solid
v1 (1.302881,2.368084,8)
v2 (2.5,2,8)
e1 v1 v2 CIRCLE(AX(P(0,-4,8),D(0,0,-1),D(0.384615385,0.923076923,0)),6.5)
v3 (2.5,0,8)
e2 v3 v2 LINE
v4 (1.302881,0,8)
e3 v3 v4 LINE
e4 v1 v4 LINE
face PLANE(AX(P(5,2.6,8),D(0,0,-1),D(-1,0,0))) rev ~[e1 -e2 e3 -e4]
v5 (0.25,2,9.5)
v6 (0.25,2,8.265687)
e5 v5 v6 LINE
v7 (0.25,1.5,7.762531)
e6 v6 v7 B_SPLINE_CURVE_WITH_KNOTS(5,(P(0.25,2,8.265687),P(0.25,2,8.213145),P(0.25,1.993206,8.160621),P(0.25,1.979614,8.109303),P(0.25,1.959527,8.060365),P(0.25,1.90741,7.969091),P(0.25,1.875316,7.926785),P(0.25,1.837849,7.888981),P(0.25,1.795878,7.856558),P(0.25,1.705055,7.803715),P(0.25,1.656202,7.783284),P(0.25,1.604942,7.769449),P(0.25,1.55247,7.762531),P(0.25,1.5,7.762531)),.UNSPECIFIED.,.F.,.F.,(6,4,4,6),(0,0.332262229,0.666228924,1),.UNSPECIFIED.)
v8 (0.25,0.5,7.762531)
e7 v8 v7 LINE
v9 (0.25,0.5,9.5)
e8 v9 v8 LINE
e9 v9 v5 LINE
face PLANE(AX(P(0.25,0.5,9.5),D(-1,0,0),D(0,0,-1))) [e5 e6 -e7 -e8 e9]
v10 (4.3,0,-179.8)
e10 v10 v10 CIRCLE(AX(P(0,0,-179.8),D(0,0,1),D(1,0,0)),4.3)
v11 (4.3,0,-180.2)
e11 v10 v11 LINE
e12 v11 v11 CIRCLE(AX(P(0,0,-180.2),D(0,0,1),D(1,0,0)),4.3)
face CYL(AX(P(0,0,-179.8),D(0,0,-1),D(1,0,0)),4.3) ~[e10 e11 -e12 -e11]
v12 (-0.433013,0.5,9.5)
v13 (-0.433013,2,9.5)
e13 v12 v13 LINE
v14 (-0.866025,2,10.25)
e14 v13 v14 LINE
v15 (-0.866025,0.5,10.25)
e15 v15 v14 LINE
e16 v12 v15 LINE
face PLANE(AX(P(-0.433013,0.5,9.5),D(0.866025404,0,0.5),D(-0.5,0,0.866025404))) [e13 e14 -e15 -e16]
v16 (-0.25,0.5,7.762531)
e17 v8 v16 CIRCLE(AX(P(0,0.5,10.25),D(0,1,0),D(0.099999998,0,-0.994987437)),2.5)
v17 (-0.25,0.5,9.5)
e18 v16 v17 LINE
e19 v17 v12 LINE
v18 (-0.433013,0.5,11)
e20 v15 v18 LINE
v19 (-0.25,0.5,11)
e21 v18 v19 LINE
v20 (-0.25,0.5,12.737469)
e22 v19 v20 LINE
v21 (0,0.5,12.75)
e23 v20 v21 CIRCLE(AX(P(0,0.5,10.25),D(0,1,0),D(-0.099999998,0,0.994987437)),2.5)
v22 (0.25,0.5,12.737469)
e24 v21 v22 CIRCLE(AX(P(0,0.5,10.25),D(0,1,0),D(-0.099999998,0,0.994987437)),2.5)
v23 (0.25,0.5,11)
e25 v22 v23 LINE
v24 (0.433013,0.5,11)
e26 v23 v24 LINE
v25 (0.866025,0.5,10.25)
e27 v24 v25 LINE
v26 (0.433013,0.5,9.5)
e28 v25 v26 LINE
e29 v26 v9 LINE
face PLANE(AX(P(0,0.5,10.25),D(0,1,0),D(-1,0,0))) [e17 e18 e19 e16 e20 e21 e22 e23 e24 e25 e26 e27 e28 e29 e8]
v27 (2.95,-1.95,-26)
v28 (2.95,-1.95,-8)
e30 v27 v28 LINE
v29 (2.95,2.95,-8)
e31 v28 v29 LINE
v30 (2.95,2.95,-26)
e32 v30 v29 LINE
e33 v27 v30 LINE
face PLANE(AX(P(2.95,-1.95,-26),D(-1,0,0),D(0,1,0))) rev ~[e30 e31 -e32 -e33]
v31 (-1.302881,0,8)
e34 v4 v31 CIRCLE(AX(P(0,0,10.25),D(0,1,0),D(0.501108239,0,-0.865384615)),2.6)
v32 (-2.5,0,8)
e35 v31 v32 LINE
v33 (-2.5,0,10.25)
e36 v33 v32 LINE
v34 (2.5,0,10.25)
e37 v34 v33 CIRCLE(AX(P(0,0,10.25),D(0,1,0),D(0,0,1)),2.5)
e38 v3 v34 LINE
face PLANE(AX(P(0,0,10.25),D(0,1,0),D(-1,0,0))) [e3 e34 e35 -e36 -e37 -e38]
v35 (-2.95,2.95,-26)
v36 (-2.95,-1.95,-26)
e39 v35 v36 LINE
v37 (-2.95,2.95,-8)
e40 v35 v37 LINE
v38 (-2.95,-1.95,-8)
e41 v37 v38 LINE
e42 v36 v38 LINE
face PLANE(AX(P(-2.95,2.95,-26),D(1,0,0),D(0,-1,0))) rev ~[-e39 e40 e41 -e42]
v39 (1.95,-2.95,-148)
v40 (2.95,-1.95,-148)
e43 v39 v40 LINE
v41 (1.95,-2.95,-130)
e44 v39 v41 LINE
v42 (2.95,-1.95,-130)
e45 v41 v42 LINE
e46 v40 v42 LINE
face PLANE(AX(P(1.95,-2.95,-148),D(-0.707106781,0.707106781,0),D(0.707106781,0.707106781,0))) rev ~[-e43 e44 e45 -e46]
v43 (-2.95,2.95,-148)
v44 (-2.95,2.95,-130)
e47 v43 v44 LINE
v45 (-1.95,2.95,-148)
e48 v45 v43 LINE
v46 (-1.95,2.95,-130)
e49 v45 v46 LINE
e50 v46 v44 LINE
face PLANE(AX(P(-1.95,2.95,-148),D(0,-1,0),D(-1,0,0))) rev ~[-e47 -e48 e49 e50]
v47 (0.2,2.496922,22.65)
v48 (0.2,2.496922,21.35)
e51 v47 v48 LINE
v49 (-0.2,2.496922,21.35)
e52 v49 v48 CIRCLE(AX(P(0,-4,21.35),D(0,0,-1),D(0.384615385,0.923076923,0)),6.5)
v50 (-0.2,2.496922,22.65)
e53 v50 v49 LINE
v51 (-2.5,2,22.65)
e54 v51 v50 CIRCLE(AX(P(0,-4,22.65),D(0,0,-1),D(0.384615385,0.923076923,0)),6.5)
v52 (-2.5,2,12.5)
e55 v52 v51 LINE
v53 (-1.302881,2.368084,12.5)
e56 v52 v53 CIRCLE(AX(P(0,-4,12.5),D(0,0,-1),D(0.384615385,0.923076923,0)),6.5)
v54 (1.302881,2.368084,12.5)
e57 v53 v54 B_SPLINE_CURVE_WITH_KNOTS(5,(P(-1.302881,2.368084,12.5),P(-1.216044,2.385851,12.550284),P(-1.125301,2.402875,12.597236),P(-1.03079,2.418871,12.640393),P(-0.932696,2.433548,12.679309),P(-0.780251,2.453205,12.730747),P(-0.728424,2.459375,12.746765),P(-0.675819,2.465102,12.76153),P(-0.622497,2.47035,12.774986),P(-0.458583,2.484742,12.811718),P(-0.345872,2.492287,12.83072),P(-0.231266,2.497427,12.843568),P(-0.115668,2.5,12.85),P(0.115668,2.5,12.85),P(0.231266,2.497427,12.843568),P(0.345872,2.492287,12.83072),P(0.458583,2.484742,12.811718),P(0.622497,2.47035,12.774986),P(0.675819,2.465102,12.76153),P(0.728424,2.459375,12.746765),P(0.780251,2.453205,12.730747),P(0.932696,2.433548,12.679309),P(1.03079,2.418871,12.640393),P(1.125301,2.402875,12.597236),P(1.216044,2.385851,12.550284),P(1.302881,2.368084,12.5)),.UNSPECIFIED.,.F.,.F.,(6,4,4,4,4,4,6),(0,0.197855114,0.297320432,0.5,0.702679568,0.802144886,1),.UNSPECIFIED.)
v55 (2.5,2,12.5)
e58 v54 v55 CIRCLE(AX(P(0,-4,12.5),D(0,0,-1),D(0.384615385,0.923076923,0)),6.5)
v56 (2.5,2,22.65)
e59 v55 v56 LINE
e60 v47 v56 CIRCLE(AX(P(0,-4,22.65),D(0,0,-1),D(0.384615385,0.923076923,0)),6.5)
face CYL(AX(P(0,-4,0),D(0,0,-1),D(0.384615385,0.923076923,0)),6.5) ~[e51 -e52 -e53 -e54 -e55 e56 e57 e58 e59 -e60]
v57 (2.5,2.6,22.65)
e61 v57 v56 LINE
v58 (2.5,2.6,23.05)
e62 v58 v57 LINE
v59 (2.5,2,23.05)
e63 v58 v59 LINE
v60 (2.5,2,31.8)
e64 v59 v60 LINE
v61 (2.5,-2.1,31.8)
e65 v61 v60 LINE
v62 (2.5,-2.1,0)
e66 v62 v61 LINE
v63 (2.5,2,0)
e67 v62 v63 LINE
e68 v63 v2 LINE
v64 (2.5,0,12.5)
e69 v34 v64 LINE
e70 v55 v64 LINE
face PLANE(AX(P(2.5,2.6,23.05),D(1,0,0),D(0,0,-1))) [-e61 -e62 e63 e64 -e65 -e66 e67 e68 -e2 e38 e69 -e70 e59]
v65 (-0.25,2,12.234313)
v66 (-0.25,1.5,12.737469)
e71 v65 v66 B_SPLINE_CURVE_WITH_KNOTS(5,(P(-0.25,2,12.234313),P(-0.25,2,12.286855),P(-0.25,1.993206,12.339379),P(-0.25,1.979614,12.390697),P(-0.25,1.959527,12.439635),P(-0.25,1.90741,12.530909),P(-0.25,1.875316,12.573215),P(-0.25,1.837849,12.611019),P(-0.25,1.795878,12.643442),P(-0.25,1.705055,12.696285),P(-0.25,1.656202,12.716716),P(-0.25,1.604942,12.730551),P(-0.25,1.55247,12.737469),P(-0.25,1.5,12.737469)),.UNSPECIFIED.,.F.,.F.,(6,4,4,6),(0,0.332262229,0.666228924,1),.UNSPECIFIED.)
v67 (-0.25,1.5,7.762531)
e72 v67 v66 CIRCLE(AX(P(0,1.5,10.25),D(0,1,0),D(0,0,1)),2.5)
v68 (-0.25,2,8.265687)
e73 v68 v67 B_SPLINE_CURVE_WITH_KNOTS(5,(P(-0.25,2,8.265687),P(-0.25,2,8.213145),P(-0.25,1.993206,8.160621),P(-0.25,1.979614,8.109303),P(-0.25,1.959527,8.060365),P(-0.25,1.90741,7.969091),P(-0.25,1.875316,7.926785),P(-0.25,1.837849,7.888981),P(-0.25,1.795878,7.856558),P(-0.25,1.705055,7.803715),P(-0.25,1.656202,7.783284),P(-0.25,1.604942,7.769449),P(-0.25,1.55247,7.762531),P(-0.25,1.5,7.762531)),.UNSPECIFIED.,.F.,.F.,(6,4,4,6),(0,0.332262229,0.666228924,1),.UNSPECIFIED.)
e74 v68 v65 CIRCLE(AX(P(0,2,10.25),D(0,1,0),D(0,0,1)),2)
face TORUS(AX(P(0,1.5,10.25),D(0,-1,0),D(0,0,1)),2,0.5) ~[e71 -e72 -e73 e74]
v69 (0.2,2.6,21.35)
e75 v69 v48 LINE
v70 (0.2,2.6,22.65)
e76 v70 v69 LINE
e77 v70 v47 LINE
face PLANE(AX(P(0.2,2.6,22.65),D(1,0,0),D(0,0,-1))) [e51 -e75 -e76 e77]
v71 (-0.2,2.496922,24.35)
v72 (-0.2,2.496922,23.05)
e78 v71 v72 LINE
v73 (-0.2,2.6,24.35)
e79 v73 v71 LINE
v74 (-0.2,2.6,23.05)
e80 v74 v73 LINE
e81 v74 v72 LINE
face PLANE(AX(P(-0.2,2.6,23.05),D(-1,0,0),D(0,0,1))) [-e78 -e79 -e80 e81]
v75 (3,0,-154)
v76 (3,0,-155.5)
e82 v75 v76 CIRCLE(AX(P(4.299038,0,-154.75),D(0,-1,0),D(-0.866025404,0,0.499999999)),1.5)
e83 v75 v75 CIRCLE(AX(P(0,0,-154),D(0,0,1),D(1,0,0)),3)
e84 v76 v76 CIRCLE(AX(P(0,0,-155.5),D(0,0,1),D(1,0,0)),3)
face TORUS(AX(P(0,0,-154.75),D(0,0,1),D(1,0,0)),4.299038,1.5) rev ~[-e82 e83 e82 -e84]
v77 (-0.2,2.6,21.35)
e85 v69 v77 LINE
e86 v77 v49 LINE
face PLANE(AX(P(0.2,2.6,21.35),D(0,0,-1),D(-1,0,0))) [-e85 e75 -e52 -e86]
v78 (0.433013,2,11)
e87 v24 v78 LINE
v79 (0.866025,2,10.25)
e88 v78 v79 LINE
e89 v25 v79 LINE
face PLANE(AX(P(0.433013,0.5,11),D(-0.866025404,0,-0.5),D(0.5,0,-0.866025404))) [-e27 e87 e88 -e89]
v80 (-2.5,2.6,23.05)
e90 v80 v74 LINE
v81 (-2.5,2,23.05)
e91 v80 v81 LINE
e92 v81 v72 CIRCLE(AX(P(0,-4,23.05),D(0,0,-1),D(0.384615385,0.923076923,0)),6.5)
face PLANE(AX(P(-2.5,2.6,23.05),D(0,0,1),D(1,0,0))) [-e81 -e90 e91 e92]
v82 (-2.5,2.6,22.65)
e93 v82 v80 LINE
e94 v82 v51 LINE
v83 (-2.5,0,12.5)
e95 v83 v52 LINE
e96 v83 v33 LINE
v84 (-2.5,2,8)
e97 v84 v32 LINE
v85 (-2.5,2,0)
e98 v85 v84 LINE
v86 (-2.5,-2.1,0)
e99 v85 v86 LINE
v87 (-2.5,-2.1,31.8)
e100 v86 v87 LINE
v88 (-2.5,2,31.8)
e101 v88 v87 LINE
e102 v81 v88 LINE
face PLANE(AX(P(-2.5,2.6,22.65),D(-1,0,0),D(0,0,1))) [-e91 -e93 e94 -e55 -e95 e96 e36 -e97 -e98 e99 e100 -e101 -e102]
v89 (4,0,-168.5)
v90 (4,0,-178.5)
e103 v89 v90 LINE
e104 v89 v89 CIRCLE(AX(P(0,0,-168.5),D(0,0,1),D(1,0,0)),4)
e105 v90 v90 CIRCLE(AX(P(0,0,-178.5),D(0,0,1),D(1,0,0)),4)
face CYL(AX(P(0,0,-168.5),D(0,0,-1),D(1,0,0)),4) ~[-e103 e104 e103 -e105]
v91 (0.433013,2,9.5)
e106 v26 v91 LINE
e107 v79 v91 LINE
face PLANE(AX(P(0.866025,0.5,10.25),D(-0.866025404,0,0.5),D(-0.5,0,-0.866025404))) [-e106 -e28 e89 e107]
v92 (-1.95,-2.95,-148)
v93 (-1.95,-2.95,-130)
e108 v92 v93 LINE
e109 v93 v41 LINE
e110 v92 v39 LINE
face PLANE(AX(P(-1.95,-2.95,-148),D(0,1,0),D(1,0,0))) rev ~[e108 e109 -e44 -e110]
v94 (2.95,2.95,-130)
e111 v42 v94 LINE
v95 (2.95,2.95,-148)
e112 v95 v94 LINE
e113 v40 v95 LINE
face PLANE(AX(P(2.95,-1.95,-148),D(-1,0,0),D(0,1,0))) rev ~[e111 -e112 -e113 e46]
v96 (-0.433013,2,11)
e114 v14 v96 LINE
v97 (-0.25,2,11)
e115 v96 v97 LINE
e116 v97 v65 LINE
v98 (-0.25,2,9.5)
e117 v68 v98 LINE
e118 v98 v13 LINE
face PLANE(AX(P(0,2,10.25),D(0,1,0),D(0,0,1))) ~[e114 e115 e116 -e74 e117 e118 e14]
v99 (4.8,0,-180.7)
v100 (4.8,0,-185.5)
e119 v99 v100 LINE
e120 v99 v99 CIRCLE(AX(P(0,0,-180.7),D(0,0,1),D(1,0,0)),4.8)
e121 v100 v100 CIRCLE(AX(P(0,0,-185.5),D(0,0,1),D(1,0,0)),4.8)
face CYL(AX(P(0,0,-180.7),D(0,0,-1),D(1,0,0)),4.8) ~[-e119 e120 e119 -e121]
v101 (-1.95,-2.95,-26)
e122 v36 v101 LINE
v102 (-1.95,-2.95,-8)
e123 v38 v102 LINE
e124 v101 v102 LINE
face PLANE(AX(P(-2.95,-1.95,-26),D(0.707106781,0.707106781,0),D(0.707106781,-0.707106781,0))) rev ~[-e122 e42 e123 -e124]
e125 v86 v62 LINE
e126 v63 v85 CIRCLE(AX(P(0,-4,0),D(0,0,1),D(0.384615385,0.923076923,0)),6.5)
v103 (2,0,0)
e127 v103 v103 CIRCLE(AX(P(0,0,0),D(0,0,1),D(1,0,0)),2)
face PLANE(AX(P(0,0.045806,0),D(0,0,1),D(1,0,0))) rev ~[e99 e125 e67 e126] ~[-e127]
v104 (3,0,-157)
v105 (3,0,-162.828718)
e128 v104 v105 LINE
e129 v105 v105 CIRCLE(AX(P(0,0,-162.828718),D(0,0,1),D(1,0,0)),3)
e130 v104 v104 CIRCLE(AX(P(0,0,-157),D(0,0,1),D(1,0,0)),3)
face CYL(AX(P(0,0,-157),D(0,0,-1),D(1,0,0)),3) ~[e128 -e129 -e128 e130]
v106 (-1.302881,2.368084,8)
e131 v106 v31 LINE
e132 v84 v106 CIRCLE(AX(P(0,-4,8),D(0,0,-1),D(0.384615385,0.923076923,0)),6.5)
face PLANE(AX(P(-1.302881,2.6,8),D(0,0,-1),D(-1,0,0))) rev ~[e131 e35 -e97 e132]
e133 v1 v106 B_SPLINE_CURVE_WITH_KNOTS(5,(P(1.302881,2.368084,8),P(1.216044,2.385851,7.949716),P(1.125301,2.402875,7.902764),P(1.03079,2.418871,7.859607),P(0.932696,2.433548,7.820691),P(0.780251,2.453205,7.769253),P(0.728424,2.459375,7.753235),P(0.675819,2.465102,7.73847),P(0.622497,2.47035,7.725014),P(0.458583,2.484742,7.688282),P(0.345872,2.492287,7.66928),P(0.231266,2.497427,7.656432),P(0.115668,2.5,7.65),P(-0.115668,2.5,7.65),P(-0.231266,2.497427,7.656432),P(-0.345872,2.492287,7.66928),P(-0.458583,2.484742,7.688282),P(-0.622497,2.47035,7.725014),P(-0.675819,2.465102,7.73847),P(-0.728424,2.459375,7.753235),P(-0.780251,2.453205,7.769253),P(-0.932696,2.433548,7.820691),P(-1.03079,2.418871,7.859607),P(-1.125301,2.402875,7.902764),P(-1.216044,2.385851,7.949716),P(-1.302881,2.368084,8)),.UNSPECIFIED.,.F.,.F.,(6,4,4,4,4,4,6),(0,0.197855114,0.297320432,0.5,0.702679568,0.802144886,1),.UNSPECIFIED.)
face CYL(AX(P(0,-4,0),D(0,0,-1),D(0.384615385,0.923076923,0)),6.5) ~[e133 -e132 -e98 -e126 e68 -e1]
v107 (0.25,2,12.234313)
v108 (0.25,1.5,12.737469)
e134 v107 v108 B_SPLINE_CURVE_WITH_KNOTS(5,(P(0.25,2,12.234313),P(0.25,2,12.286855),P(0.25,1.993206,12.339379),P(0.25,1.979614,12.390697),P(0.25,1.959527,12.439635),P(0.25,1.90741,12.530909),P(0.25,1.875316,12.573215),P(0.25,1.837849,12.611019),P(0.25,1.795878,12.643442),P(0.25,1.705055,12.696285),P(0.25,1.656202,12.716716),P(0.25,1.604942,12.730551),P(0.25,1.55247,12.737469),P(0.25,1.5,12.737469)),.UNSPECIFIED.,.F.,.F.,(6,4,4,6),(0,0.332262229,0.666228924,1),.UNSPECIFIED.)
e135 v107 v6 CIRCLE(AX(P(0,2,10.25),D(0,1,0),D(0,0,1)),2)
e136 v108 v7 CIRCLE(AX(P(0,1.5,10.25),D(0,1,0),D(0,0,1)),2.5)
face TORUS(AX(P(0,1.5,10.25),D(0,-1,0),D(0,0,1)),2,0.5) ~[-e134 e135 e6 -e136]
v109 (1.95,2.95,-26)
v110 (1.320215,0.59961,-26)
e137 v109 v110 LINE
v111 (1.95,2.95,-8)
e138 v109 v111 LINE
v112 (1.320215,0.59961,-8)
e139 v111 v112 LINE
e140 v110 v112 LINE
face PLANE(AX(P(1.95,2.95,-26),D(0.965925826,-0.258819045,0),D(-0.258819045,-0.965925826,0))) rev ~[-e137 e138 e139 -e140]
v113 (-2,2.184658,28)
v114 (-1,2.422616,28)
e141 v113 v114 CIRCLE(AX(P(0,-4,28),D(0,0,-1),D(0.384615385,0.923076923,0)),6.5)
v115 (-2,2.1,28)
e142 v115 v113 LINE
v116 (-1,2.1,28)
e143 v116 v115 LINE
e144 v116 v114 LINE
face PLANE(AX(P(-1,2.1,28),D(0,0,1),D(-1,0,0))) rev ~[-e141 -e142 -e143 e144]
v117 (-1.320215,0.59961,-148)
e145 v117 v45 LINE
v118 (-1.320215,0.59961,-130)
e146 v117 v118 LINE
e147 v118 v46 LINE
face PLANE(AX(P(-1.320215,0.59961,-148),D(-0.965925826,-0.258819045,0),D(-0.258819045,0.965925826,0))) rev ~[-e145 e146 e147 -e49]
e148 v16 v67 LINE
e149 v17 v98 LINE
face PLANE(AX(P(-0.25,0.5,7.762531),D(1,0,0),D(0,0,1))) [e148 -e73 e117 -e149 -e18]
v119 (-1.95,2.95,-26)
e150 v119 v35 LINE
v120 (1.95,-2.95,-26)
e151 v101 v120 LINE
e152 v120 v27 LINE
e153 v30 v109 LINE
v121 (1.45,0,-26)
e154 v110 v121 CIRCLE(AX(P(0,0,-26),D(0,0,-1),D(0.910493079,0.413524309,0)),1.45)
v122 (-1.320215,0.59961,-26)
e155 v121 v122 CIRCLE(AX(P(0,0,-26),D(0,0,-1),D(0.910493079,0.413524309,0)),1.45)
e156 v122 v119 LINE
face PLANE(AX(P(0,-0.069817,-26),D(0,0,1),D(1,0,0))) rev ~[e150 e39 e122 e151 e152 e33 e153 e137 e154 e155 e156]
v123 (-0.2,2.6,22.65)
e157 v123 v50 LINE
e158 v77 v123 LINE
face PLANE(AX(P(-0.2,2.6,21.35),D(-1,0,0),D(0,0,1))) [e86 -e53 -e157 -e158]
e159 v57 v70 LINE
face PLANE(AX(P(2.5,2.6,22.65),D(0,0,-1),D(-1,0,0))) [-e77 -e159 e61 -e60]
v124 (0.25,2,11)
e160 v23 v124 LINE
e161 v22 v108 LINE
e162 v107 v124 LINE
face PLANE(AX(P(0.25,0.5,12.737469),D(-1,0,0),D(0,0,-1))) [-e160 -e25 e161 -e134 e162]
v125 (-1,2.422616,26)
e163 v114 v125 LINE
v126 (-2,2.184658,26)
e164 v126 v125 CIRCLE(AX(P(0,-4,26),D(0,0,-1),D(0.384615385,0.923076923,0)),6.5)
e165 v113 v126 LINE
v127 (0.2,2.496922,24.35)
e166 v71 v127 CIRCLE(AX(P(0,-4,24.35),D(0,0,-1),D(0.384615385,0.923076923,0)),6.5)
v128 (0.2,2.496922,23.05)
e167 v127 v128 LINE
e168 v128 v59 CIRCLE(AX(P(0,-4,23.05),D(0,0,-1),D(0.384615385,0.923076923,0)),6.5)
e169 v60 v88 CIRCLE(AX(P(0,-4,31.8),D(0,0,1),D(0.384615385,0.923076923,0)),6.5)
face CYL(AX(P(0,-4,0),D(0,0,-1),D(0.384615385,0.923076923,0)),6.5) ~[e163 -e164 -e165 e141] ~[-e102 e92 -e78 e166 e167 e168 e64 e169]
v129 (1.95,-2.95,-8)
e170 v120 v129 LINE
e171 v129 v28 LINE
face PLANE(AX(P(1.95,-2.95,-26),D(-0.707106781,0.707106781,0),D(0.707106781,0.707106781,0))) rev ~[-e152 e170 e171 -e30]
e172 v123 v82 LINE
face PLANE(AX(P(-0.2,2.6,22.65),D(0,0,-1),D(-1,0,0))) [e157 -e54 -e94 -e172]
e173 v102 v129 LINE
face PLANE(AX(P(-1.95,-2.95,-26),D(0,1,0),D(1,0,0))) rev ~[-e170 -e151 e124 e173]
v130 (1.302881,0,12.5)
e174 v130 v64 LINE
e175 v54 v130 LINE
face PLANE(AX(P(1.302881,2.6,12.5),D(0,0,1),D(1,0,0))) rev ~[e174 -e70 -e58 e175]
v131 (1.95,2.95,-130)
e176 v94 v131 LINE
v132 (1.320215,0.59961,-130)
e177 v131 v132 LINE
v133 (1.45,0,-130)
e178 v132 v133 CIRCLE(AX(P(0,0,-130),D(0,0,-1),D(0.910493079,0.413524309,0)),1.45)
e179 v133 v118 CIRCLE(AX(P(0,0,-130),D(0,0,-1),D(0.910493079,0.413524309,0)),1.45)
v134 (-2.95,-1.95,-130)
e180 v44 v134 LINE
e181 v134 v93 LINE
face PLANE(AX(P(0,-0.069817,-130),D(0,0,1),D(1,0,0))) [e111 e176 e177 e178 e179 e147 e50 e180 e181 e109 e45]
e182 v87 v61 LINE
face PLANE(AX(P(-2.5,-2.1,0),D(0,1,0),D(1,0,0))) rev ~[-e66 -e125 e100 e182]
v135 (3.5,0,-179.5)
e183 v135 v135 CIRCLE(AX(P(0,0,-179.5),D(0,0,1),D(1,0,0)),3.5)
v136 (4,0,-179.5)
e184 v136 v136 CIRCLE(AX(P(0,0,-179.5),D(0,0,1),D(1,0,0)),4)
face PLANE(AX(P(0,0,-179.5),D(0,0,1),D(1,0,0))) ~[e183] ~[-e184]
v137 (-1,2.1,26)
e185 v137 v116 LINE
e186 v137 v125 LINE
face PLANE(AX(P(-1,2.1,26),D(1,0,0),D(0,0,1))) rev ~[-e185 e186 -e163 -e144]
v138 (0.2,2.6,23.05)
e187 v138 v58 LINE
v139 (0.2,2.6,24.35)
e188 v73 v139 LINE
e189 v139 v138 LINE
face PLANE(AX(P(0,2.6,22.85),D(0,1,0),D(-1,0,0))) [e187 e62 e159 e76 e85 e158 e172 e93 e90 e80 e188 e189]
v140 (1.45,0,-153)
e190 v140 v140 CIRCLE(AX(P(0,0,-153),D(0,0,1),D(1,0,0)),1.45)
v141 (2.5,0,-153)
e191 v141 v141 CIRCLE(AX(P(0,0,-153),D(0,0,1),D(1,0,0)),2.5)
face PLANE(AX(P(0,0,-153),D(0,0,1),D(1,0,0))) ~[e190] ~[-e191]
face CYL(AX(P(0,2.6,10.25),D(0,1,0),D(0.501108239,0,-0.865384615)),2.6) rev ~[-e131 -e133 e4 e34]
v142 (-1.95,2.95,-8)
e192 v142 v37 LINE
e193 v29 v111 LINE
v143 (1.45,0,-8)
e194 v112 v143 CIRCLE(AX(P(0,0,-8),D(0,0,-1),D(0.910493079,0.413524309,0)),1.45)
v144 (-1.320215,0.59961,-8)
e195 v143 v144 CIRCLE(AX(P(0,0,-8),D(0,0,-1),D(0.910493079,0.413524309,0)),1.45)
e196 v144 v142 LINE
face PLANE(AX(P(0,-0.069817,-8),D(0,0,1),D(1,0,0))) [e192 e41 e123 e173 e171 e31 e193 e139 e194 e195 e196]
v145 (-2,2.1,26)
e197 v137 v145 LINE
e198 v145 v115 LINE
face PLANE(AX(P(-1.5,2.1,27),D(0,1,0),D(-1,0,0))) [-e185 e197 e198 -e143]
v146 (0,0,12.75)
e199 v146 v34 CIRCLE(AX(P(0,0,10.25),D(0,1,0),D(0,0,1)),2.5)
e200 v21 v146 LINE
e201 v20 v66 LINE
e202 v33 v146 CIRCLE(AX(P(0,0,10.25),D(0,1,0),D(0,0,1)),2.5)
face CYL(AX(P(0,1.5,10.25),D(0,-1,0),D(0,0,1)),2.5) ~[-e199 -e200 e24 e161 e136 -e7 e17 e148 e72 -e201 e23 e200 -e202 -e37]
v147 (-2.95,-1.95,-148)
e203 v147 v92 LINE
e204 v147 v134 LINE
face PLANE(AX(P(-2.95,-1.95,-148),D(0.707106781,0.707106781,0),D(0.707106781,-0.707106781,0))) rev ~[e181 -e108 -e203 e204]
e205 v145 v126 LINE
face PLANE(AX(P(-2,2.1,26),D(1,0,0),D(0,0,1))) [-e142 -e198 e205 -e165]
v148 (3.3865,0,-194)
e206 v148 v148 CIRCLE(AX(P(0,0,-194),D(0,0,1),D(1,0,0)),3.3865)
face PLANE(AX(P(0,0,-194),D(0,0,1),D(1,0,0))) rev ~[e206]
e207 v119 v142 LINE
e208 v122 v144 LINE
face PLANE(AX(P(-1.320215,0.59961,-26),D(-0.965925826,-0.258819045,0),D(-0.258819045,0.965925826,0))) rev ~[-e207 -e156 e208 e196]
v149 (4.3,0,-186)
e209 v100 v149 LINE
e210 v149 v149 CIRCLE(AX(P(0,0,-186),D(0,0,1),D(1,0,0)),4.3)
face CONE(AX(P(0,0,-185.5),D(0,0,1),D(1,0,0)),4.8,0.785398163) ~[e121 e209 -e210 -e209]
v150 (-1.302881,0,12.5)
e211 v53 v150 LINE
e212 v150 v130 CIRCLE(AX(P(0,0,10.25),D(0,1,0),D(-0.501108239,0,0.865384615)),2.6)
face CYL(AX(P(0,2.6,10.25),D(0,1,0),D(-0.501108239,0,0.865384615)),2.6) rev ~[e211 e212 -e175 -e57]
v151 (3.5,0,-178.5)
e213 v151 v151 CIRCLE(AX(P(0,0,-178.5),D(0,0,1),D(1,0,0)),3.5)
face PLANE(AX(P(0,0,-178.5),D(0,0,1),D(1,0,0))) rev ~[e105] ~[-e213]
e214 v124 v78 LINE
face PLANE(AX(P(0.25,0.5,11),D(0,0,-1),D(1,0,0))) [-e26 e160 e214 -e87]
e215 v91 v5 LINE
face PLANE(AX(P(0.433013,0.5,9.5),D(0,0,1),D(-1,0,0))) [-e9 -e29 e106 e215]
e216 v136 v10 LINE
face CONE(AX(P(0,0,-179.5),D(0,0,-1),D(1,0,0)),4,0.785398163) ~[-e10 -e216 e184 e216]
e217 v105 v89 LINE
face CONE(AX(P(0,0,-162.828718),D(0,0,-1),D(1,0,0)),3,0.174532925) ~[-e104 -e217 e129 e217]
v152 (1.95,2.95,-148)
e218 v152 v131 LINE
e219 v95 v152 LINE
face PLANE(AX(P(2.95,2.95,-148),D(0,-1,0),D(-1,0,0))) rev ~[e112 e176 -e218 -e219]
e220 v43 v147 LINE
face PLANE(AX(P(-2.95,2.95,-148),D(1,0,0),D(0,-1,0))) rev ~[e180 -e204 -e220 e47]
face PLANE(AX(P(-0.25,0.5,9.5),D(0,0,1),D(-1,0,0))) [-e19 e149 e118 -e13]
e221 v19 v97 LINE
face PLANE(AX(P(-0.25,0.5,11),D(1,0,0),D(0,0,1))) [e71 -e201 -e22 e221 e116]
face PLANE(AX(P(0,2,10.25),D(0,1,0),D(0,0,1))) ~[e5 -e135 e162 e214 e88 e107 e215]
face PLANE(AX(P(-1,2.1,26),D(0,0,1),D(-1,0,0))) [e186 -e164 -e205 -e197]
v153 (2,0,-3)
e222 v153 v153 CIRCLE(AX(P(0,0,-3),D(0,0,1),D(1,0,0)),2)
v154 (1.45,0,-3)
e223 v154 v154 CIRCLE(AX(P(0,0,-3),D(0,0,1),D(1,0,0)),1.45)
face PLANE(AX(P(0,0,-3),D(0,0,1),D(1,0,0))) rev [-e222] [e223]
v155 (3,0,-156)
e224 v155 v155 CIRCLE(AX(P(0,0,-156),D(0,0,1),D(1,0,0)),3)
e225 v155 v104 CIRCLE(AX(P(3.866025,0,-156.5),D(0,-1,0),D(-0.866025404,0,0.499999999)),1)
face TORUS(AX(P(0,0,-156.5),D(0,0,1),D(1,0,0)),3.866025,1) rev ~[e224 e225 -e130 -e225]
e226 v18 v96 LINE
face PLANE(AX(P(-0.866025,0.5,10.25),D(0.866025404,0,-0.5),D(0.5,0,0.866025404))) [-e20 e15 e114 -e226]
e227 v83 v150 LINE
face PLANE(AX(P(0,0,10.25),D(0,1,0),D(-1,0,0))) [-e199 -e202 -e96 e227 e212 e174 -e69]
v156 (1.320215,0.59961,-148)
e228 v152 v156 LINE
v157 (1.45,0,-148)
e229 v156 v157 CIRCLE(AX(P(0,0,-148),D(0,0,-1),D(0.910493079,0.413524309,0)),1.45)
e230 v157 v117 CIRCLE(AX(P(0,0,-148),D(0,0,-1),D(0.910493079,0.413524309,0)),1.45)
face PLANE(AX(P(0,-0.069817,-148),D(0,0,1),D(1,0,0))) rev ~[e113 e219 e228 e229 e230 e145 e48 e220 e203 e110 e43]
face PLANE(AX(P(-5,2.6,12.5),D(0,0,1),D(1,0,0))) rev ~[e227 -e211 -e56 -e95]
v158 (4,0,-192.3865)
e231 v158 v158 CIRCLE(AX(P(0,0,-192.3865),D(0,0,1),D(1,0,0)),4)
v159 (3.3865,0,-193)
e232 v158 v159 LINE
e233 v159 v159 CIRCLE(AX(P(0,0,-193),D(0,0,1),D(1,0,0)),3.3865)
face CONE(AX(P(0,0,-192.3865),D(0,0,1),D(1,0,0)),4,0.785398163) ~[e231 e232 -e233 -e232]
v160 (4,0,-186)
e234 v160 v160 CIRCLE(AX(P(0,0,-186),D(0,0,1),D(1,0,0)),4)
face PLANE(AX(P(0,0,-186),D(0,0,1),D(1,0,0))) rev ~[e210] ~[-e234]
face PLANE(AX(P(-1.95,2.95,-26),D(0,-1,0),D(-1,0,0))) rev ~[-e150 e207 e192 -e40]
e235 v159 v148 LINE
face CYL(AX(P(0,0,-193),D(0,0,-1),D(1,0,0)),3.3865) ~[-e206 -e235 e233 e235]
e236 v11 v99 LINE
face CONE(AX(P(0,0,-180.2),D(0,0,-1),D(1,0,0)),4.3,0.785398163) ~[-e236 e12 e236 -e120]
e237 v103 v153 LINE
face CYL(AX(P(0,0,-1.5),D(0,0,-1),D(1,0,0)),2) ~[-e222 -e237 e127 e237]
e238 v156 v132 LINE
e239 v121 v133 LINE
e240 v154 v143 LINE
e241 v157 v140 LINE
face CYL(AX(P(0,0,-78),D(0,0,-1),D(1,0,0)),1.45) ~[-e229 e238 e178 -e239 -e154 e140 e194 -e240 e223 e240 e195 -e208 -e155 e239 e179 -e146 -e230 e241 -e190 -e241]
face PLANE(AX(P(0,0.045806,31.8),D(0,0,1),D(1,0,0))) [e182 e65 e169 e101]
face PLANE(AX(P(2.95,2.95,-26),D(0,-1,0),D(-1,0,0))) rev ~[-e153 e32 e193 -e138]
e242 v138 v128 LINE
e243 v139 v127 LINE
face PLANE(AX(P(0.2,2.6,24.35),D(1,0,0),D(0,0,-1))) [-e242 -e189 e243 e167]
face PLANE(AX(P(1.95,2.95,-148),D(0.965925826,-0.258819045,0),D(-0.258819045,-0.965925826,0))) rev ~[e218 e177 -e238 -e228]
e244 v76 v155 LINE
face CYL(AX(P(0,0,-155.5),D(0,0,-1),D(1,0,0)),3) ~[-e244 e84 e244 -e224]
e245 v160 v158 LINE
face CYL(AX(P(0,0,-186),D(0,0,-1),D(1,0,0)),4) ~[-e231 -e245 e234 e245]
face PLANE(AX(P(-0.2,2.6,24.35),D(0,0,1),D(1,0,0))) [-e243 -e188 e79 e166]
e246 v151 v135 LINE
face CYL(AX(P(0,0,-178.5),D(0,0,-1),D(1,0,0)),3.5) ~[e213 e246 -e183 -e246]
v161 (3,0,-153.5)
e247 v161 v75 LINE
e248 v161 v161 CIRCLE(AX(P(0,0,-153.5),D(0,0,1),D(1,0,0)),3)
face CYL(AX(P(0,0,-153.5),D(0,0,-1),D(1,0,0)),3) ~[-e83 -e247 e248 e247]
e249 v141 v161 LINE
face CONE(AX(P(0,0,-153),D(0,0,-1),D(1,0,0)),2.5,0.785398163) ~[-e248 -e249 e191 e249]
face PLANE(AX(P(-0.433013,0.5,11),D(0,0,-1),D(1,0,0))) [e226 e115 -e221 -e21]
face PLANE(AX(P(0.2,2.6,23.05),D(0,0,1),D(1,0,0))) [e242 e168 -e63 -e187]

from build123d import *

# Parameters (mm, degrees)
LINEAR_AUSTRAGEN1_DEPTH      = 31.8
SKIZZE2_W                    = 3
SKIZZE2_H                    = 2
LINEAR_AUSTRAGEN2_DEPTH      = 2
SKIZZE4_W                    = 150
SKIZZE4_H                    = 1.45
LINEAR_START                 = -18
LINEAR_AUSTRAGEN3_DEPTH      = 18
LINEAR_AUSTRAGEN4_DEPTH      = 18
LINEAR_AUSTRAGEN5_DEPTH      = 0.5
LINEAR_AUSTRAGEN5_DEPTH_BACK = 0.5
SKIZZE8_W                    = 1
SKIZZE8_H                    = 2
LINEAR_AUSTRAGEN6_DEPTH      = 2.6
LINEAR_START_2               = -2.1
LINEAR_AUSTRAGEN7_DEPTH      = 2.1


with BuildPart() as part:
    # Skizze1 → Linear austragen1 (new body)
    with BuildSketch(Plane.XY):
        with BuildLine():
            Line((-2.5, -2.1), (2.5, -2.1))
            Line((2.5, -2.1), (2.5, 2))
            ThreePointArc((2.5, 2), (0, 2.5), (-2.5, 2))
            Line((-2.5, 2), (-2.5, -2.1))
        make_face()
    extrude(amount=LINEAR_AUSTRAGEN1_DEPTH)

    # Skizze2 → Rotation1 (revolve)
    with BuildSketch(Plane(origin=(0, 0, 0), x_dir=(0, 0, -1), z_dir=(1, 0, 0)), mode=Mode.PRIVATE) as rotation1_sk:
        with Locations((1.5, 1)):
            Rectangle(SKIZZE2_W, SKIZZE2_H)
    revolve(rotation1_sk.sketch.rotate(Axis((0, 0, -3), (0, 0, 1)), 270), axis=Axis((0, 0, -3), (0, 0, 1)))

    # Skizze3 → Linear austragen2 (add)
    with BuildSketch(Plane(origin=(0, 2.6, 0), x_dir=(-1, 0, 0), z_dir=(0, 1, 0))):
        Polygon((2.5, 23.05), (0.2, 23.05), (0.2, 24.35), (-0.2, 24.35), (-0.2, 23.05), (-2.5, 23.05), (-2.5, 22.65), (-0.2, 22.65), (-0.2, 21.35), (0.2, 21.35), (0.2, 22.65), (2.5, 22.65), align=None)
    extrude(amount=-LINEAR_AUSTRAGEN2_DEPTH)

    # Skizze4 → Rotation2 (revolve)
    with BuildSketch(Plane(origin=(0, 0, 0), x_dir=(0, 0, -1), z_dir=(1, 0, 0)), mode=Mode.PRIVATE) as rotation2_sk:
        with Locations((78, 0.725)):
            Rectangle(SKIZZE4_W, SKIZZE4_H)
    revolve(rotation2_sk.sketch.rotate(Axis((0, 0, -153), (0, 0, 1)), 270), axis=Axis((0, 0, -153), (0, 0, 1)))

    # Skizze5 → Linear austragen3 (add)
    with BuildSketch(Plane.XY.offset(-8).offset(LINEAR_START)):
        with BuildLine():
            Line((-2.95, 2.95), (-2.95, -1.95))
            Line((-2.95, -1.95), (-1.95, -2.95))
            Line((-1.95, -2.95), (1.95, -2.95))
            Line((1.95, -2.95), (2.95, -1.95))
            Line((2.95, -1.95), (2.95, 2.95))
            Line((2.95, 2.95), (1.95, 2.95))
            Line((1.95, 2.95), (1.320214964, 0.599610248))
            ThreePointArc((1.320214964, 0.599610248), (0, -1.45), (-1.320214964, 0.599610248))
            Line((-1.320214964, 0.599610248), (-1.95, 2.95))
            Line((-1.95, 2.95), (-2.95, 2.95))
        make_face()
    extrude(amount=LINEAR_AUSTRAGEN3_DEPTH)

    # Skizze6 → Linear austragen4 (add)
    with BuildSketch(Plane.XY.offset(-148)):
        with BuildLine():
            Line((-2.95, 2.95), (-2.95, -1.95))
            Line((-2.95, -1.95), (-1.95, -2.95))
            Line((-1.95, -2.95), (1.95, -2.95))
            Line((1.95, -2.95), (2.95, -1.95))
            Line((2.95, -1.95), (2.95, 2.95))
            Line((2.95, 2.95), (1.95, 2.95))
            Line((1.95, 2.95), (1.320214964, 0.599610248))
            ThreePointArc((1.320214964, 0.599610248), (0, -1.45), (-1.320214964, 0.599610248))
            Line((-1.320214964, 0.599610248), (-1.95, 2.95))
            Line((-1.95, 2.95), (-2.95, 2.95))
        make_face()
    extrude(amount=LINEAR_AUSTRAGEN4_DEPTH)

    # Skizze7 → Rotation3 (revolve)
    with BuildSketch(Plane(origin=(0, 0, 0), x_dir=(0, 0, -1), z_dir=(1, 0, 0)), mode=Mode.PRIVATE) as rotation3_sk:
        with BuildLine():
            Line((153, 0), (153, 2.5))
            Line((153, 2.5), (153.5, 3))
            Line((153.5, 3), (154, 3))
            ThreePointArc((154, 3), (154.75, 2.799038106), (155.5, 3))
            Line((155.5, 3), (156, 3))
            ThreePointArc((156, 3), (156.5, 2.866025404), (157, 3))
            Line((157, 3), (162.82871818, 3))
            Line((162.82871818, 3), (168.5, 4))
            Line((168.5, 4), (178.5, 4))
            Line((178.5, 4), (178.5, 3.5))
            Line((178.5, 3.5), (179.5, 3.5))
            Line((179.5, 3.5), (179.5, 4))
            Line((179.5, 4), (179.8, 4.3))
            Line((179.8, 4.3), (180.2, 4.3))
            Line((180.2, 4.3), (180.7, 4.8))
            Line((180.7, 4.8), (185.5, 4.8))
            Line((185.5, 4.8), (186, 4.3))
            Line((186, 4.3), (186, 4))
            Line((186, 4), (192.3865, 4))
            Line((192.3865, 4), (193, 3.3865))
            Line((193, 3.3865), (194, 3.3865))
            Line((194, 3.3865), (194, 0))
            Line((194, 0), (153, 0))
        make_face()
    revolve(rotation3_sk.sketch.rotate(Axis((0, 0, -194), (0, 0, 1)), 270), axis=Axis((0, 0, -194), (0, 0, 1)))

    # Skizze8 → Linear austragen5 (cut, two sides: drawn at the far end of the back side and taken through both)
    with BuildSketch(Plane(origin=(0, 2.6, 0), x_dir=(-1, 0, 0), z_dir=(0, 1, 0)).offset(-LINEAR_AUSTRAGEN5_DEPTH_BACK)):
        with Locations((1.5, 27)):
            Rectangle(SKIZZE8_W, SKIZZE8_H)
    extrude(amount=LINEAR_AUSTRAGEN5_DEPTH + LINEAR_AUSTRAGEN5_DEPTH_BACK, mode=Mode.SUBTRACT)

    # Skizze9 → Linear austragen6 (cut)
    with BuildSketch(Plane(origin=(0, 2.6, 0), x_dir=(-1, 0, 0), z_dir=(0, 1, 0))):
        with BuildLine():
            Line((5, 8), (5, 12.5))
            Line((5, 12.5), (1.302881422, 12.5))
            ThreePointArc((1.302881422, 12.5), (0, 12.85), (-1.302881422, 12.5))
            Line((-1.302881422, 12.5), (-5, 12.5))
            Line((-5, 12.5), (-5, 8))
            Line((-5, 8), (-1.302881422, 8))
            ThreePointArc((-1.302881422, 8), (0, 7.65), (1.302881422, 8))
            Line((1.302881422, 8), (5, 8))
        make_face()
    extrude(amount=-LINEAR_AUSTRAGEN6_DEPTH, mode=Mode.SUBTRACT)

    # Skizze10 → Rotation4 (revolve)
    with BuildSketch(Plane(origin=(0, 0, 0), x_dir=(0, 0, -1), z_dir=(1, 0, 0)), mode=Mode.PRIVATE) as rotation4_sk:
        with BuildLine():
            Line((-10.25, 2), (-8.25, 2))
            ThreePointArc((-8.25, 2), (-7.896446609, 1.853553391), (-7.75, 1.5))
            Line((-7.75, 1.5), (-7.75, 0))
            Line((-7.75, 0), (-10.25, 0))
            Line((-10.25, 0), (-10.25, 2))
        make_face()
    revolve(rotation4_sk.sketch.rotate(Axis((0, 0, 10.25), (0, 1, 0)), 180), axis=Axis((0, 0, 10.25), (0, 1, 0)))

    # Skizze11 → Linear austragen7 (cut)
    with BuildSketch(Plane(origin=(0, 2.6, 0), x_dir=(-1, 0, 0), z_dir=(0, 1, 0)).offset(LINEAR_START_2)):
        with BuildLine():
            Line((0.866025404, 10.25), (0.433012702, 11))
            Line((0.433012702, 11), (0.25, 11))
            Line((0.25, 11), (0.25, 12.737468593))
            ThreePointArc((0.25, 12.737468593), (0, 12.75), (-0.25, 12.737468593))
            Line((-0.25, 12.737468593), (-0.25, 11))
            Line((-0.25, 11), (-0.433012702, 11))
            Line((-0.433012702, 11), (-0.866025404, 10.25))
            Line((-0.866025404, 10.25), (-0.433012702, 9.5))
            Line((-0.433012702, 9.5), (-0.25, 9.5))
            Line((-0.25, 9.5), (-0.25, 7.762531407))
            ThreePointArc((-0.25, 7.762531407), (0, 7.75), (0.25, 7.762531407))
            Line((0.25, 7.762531407), (0.25, 9.5))
            Line((0.25, 9.5), (0.433012702, 9.5))
            Line((0.433012702, 9.5), (0.866025404, 10.25))
        make_face()
    extrude(amount=LINEAR_AUSTRAGEN7_DEPTH, mode=Mode.SUBTRACT)


solid = part.part
